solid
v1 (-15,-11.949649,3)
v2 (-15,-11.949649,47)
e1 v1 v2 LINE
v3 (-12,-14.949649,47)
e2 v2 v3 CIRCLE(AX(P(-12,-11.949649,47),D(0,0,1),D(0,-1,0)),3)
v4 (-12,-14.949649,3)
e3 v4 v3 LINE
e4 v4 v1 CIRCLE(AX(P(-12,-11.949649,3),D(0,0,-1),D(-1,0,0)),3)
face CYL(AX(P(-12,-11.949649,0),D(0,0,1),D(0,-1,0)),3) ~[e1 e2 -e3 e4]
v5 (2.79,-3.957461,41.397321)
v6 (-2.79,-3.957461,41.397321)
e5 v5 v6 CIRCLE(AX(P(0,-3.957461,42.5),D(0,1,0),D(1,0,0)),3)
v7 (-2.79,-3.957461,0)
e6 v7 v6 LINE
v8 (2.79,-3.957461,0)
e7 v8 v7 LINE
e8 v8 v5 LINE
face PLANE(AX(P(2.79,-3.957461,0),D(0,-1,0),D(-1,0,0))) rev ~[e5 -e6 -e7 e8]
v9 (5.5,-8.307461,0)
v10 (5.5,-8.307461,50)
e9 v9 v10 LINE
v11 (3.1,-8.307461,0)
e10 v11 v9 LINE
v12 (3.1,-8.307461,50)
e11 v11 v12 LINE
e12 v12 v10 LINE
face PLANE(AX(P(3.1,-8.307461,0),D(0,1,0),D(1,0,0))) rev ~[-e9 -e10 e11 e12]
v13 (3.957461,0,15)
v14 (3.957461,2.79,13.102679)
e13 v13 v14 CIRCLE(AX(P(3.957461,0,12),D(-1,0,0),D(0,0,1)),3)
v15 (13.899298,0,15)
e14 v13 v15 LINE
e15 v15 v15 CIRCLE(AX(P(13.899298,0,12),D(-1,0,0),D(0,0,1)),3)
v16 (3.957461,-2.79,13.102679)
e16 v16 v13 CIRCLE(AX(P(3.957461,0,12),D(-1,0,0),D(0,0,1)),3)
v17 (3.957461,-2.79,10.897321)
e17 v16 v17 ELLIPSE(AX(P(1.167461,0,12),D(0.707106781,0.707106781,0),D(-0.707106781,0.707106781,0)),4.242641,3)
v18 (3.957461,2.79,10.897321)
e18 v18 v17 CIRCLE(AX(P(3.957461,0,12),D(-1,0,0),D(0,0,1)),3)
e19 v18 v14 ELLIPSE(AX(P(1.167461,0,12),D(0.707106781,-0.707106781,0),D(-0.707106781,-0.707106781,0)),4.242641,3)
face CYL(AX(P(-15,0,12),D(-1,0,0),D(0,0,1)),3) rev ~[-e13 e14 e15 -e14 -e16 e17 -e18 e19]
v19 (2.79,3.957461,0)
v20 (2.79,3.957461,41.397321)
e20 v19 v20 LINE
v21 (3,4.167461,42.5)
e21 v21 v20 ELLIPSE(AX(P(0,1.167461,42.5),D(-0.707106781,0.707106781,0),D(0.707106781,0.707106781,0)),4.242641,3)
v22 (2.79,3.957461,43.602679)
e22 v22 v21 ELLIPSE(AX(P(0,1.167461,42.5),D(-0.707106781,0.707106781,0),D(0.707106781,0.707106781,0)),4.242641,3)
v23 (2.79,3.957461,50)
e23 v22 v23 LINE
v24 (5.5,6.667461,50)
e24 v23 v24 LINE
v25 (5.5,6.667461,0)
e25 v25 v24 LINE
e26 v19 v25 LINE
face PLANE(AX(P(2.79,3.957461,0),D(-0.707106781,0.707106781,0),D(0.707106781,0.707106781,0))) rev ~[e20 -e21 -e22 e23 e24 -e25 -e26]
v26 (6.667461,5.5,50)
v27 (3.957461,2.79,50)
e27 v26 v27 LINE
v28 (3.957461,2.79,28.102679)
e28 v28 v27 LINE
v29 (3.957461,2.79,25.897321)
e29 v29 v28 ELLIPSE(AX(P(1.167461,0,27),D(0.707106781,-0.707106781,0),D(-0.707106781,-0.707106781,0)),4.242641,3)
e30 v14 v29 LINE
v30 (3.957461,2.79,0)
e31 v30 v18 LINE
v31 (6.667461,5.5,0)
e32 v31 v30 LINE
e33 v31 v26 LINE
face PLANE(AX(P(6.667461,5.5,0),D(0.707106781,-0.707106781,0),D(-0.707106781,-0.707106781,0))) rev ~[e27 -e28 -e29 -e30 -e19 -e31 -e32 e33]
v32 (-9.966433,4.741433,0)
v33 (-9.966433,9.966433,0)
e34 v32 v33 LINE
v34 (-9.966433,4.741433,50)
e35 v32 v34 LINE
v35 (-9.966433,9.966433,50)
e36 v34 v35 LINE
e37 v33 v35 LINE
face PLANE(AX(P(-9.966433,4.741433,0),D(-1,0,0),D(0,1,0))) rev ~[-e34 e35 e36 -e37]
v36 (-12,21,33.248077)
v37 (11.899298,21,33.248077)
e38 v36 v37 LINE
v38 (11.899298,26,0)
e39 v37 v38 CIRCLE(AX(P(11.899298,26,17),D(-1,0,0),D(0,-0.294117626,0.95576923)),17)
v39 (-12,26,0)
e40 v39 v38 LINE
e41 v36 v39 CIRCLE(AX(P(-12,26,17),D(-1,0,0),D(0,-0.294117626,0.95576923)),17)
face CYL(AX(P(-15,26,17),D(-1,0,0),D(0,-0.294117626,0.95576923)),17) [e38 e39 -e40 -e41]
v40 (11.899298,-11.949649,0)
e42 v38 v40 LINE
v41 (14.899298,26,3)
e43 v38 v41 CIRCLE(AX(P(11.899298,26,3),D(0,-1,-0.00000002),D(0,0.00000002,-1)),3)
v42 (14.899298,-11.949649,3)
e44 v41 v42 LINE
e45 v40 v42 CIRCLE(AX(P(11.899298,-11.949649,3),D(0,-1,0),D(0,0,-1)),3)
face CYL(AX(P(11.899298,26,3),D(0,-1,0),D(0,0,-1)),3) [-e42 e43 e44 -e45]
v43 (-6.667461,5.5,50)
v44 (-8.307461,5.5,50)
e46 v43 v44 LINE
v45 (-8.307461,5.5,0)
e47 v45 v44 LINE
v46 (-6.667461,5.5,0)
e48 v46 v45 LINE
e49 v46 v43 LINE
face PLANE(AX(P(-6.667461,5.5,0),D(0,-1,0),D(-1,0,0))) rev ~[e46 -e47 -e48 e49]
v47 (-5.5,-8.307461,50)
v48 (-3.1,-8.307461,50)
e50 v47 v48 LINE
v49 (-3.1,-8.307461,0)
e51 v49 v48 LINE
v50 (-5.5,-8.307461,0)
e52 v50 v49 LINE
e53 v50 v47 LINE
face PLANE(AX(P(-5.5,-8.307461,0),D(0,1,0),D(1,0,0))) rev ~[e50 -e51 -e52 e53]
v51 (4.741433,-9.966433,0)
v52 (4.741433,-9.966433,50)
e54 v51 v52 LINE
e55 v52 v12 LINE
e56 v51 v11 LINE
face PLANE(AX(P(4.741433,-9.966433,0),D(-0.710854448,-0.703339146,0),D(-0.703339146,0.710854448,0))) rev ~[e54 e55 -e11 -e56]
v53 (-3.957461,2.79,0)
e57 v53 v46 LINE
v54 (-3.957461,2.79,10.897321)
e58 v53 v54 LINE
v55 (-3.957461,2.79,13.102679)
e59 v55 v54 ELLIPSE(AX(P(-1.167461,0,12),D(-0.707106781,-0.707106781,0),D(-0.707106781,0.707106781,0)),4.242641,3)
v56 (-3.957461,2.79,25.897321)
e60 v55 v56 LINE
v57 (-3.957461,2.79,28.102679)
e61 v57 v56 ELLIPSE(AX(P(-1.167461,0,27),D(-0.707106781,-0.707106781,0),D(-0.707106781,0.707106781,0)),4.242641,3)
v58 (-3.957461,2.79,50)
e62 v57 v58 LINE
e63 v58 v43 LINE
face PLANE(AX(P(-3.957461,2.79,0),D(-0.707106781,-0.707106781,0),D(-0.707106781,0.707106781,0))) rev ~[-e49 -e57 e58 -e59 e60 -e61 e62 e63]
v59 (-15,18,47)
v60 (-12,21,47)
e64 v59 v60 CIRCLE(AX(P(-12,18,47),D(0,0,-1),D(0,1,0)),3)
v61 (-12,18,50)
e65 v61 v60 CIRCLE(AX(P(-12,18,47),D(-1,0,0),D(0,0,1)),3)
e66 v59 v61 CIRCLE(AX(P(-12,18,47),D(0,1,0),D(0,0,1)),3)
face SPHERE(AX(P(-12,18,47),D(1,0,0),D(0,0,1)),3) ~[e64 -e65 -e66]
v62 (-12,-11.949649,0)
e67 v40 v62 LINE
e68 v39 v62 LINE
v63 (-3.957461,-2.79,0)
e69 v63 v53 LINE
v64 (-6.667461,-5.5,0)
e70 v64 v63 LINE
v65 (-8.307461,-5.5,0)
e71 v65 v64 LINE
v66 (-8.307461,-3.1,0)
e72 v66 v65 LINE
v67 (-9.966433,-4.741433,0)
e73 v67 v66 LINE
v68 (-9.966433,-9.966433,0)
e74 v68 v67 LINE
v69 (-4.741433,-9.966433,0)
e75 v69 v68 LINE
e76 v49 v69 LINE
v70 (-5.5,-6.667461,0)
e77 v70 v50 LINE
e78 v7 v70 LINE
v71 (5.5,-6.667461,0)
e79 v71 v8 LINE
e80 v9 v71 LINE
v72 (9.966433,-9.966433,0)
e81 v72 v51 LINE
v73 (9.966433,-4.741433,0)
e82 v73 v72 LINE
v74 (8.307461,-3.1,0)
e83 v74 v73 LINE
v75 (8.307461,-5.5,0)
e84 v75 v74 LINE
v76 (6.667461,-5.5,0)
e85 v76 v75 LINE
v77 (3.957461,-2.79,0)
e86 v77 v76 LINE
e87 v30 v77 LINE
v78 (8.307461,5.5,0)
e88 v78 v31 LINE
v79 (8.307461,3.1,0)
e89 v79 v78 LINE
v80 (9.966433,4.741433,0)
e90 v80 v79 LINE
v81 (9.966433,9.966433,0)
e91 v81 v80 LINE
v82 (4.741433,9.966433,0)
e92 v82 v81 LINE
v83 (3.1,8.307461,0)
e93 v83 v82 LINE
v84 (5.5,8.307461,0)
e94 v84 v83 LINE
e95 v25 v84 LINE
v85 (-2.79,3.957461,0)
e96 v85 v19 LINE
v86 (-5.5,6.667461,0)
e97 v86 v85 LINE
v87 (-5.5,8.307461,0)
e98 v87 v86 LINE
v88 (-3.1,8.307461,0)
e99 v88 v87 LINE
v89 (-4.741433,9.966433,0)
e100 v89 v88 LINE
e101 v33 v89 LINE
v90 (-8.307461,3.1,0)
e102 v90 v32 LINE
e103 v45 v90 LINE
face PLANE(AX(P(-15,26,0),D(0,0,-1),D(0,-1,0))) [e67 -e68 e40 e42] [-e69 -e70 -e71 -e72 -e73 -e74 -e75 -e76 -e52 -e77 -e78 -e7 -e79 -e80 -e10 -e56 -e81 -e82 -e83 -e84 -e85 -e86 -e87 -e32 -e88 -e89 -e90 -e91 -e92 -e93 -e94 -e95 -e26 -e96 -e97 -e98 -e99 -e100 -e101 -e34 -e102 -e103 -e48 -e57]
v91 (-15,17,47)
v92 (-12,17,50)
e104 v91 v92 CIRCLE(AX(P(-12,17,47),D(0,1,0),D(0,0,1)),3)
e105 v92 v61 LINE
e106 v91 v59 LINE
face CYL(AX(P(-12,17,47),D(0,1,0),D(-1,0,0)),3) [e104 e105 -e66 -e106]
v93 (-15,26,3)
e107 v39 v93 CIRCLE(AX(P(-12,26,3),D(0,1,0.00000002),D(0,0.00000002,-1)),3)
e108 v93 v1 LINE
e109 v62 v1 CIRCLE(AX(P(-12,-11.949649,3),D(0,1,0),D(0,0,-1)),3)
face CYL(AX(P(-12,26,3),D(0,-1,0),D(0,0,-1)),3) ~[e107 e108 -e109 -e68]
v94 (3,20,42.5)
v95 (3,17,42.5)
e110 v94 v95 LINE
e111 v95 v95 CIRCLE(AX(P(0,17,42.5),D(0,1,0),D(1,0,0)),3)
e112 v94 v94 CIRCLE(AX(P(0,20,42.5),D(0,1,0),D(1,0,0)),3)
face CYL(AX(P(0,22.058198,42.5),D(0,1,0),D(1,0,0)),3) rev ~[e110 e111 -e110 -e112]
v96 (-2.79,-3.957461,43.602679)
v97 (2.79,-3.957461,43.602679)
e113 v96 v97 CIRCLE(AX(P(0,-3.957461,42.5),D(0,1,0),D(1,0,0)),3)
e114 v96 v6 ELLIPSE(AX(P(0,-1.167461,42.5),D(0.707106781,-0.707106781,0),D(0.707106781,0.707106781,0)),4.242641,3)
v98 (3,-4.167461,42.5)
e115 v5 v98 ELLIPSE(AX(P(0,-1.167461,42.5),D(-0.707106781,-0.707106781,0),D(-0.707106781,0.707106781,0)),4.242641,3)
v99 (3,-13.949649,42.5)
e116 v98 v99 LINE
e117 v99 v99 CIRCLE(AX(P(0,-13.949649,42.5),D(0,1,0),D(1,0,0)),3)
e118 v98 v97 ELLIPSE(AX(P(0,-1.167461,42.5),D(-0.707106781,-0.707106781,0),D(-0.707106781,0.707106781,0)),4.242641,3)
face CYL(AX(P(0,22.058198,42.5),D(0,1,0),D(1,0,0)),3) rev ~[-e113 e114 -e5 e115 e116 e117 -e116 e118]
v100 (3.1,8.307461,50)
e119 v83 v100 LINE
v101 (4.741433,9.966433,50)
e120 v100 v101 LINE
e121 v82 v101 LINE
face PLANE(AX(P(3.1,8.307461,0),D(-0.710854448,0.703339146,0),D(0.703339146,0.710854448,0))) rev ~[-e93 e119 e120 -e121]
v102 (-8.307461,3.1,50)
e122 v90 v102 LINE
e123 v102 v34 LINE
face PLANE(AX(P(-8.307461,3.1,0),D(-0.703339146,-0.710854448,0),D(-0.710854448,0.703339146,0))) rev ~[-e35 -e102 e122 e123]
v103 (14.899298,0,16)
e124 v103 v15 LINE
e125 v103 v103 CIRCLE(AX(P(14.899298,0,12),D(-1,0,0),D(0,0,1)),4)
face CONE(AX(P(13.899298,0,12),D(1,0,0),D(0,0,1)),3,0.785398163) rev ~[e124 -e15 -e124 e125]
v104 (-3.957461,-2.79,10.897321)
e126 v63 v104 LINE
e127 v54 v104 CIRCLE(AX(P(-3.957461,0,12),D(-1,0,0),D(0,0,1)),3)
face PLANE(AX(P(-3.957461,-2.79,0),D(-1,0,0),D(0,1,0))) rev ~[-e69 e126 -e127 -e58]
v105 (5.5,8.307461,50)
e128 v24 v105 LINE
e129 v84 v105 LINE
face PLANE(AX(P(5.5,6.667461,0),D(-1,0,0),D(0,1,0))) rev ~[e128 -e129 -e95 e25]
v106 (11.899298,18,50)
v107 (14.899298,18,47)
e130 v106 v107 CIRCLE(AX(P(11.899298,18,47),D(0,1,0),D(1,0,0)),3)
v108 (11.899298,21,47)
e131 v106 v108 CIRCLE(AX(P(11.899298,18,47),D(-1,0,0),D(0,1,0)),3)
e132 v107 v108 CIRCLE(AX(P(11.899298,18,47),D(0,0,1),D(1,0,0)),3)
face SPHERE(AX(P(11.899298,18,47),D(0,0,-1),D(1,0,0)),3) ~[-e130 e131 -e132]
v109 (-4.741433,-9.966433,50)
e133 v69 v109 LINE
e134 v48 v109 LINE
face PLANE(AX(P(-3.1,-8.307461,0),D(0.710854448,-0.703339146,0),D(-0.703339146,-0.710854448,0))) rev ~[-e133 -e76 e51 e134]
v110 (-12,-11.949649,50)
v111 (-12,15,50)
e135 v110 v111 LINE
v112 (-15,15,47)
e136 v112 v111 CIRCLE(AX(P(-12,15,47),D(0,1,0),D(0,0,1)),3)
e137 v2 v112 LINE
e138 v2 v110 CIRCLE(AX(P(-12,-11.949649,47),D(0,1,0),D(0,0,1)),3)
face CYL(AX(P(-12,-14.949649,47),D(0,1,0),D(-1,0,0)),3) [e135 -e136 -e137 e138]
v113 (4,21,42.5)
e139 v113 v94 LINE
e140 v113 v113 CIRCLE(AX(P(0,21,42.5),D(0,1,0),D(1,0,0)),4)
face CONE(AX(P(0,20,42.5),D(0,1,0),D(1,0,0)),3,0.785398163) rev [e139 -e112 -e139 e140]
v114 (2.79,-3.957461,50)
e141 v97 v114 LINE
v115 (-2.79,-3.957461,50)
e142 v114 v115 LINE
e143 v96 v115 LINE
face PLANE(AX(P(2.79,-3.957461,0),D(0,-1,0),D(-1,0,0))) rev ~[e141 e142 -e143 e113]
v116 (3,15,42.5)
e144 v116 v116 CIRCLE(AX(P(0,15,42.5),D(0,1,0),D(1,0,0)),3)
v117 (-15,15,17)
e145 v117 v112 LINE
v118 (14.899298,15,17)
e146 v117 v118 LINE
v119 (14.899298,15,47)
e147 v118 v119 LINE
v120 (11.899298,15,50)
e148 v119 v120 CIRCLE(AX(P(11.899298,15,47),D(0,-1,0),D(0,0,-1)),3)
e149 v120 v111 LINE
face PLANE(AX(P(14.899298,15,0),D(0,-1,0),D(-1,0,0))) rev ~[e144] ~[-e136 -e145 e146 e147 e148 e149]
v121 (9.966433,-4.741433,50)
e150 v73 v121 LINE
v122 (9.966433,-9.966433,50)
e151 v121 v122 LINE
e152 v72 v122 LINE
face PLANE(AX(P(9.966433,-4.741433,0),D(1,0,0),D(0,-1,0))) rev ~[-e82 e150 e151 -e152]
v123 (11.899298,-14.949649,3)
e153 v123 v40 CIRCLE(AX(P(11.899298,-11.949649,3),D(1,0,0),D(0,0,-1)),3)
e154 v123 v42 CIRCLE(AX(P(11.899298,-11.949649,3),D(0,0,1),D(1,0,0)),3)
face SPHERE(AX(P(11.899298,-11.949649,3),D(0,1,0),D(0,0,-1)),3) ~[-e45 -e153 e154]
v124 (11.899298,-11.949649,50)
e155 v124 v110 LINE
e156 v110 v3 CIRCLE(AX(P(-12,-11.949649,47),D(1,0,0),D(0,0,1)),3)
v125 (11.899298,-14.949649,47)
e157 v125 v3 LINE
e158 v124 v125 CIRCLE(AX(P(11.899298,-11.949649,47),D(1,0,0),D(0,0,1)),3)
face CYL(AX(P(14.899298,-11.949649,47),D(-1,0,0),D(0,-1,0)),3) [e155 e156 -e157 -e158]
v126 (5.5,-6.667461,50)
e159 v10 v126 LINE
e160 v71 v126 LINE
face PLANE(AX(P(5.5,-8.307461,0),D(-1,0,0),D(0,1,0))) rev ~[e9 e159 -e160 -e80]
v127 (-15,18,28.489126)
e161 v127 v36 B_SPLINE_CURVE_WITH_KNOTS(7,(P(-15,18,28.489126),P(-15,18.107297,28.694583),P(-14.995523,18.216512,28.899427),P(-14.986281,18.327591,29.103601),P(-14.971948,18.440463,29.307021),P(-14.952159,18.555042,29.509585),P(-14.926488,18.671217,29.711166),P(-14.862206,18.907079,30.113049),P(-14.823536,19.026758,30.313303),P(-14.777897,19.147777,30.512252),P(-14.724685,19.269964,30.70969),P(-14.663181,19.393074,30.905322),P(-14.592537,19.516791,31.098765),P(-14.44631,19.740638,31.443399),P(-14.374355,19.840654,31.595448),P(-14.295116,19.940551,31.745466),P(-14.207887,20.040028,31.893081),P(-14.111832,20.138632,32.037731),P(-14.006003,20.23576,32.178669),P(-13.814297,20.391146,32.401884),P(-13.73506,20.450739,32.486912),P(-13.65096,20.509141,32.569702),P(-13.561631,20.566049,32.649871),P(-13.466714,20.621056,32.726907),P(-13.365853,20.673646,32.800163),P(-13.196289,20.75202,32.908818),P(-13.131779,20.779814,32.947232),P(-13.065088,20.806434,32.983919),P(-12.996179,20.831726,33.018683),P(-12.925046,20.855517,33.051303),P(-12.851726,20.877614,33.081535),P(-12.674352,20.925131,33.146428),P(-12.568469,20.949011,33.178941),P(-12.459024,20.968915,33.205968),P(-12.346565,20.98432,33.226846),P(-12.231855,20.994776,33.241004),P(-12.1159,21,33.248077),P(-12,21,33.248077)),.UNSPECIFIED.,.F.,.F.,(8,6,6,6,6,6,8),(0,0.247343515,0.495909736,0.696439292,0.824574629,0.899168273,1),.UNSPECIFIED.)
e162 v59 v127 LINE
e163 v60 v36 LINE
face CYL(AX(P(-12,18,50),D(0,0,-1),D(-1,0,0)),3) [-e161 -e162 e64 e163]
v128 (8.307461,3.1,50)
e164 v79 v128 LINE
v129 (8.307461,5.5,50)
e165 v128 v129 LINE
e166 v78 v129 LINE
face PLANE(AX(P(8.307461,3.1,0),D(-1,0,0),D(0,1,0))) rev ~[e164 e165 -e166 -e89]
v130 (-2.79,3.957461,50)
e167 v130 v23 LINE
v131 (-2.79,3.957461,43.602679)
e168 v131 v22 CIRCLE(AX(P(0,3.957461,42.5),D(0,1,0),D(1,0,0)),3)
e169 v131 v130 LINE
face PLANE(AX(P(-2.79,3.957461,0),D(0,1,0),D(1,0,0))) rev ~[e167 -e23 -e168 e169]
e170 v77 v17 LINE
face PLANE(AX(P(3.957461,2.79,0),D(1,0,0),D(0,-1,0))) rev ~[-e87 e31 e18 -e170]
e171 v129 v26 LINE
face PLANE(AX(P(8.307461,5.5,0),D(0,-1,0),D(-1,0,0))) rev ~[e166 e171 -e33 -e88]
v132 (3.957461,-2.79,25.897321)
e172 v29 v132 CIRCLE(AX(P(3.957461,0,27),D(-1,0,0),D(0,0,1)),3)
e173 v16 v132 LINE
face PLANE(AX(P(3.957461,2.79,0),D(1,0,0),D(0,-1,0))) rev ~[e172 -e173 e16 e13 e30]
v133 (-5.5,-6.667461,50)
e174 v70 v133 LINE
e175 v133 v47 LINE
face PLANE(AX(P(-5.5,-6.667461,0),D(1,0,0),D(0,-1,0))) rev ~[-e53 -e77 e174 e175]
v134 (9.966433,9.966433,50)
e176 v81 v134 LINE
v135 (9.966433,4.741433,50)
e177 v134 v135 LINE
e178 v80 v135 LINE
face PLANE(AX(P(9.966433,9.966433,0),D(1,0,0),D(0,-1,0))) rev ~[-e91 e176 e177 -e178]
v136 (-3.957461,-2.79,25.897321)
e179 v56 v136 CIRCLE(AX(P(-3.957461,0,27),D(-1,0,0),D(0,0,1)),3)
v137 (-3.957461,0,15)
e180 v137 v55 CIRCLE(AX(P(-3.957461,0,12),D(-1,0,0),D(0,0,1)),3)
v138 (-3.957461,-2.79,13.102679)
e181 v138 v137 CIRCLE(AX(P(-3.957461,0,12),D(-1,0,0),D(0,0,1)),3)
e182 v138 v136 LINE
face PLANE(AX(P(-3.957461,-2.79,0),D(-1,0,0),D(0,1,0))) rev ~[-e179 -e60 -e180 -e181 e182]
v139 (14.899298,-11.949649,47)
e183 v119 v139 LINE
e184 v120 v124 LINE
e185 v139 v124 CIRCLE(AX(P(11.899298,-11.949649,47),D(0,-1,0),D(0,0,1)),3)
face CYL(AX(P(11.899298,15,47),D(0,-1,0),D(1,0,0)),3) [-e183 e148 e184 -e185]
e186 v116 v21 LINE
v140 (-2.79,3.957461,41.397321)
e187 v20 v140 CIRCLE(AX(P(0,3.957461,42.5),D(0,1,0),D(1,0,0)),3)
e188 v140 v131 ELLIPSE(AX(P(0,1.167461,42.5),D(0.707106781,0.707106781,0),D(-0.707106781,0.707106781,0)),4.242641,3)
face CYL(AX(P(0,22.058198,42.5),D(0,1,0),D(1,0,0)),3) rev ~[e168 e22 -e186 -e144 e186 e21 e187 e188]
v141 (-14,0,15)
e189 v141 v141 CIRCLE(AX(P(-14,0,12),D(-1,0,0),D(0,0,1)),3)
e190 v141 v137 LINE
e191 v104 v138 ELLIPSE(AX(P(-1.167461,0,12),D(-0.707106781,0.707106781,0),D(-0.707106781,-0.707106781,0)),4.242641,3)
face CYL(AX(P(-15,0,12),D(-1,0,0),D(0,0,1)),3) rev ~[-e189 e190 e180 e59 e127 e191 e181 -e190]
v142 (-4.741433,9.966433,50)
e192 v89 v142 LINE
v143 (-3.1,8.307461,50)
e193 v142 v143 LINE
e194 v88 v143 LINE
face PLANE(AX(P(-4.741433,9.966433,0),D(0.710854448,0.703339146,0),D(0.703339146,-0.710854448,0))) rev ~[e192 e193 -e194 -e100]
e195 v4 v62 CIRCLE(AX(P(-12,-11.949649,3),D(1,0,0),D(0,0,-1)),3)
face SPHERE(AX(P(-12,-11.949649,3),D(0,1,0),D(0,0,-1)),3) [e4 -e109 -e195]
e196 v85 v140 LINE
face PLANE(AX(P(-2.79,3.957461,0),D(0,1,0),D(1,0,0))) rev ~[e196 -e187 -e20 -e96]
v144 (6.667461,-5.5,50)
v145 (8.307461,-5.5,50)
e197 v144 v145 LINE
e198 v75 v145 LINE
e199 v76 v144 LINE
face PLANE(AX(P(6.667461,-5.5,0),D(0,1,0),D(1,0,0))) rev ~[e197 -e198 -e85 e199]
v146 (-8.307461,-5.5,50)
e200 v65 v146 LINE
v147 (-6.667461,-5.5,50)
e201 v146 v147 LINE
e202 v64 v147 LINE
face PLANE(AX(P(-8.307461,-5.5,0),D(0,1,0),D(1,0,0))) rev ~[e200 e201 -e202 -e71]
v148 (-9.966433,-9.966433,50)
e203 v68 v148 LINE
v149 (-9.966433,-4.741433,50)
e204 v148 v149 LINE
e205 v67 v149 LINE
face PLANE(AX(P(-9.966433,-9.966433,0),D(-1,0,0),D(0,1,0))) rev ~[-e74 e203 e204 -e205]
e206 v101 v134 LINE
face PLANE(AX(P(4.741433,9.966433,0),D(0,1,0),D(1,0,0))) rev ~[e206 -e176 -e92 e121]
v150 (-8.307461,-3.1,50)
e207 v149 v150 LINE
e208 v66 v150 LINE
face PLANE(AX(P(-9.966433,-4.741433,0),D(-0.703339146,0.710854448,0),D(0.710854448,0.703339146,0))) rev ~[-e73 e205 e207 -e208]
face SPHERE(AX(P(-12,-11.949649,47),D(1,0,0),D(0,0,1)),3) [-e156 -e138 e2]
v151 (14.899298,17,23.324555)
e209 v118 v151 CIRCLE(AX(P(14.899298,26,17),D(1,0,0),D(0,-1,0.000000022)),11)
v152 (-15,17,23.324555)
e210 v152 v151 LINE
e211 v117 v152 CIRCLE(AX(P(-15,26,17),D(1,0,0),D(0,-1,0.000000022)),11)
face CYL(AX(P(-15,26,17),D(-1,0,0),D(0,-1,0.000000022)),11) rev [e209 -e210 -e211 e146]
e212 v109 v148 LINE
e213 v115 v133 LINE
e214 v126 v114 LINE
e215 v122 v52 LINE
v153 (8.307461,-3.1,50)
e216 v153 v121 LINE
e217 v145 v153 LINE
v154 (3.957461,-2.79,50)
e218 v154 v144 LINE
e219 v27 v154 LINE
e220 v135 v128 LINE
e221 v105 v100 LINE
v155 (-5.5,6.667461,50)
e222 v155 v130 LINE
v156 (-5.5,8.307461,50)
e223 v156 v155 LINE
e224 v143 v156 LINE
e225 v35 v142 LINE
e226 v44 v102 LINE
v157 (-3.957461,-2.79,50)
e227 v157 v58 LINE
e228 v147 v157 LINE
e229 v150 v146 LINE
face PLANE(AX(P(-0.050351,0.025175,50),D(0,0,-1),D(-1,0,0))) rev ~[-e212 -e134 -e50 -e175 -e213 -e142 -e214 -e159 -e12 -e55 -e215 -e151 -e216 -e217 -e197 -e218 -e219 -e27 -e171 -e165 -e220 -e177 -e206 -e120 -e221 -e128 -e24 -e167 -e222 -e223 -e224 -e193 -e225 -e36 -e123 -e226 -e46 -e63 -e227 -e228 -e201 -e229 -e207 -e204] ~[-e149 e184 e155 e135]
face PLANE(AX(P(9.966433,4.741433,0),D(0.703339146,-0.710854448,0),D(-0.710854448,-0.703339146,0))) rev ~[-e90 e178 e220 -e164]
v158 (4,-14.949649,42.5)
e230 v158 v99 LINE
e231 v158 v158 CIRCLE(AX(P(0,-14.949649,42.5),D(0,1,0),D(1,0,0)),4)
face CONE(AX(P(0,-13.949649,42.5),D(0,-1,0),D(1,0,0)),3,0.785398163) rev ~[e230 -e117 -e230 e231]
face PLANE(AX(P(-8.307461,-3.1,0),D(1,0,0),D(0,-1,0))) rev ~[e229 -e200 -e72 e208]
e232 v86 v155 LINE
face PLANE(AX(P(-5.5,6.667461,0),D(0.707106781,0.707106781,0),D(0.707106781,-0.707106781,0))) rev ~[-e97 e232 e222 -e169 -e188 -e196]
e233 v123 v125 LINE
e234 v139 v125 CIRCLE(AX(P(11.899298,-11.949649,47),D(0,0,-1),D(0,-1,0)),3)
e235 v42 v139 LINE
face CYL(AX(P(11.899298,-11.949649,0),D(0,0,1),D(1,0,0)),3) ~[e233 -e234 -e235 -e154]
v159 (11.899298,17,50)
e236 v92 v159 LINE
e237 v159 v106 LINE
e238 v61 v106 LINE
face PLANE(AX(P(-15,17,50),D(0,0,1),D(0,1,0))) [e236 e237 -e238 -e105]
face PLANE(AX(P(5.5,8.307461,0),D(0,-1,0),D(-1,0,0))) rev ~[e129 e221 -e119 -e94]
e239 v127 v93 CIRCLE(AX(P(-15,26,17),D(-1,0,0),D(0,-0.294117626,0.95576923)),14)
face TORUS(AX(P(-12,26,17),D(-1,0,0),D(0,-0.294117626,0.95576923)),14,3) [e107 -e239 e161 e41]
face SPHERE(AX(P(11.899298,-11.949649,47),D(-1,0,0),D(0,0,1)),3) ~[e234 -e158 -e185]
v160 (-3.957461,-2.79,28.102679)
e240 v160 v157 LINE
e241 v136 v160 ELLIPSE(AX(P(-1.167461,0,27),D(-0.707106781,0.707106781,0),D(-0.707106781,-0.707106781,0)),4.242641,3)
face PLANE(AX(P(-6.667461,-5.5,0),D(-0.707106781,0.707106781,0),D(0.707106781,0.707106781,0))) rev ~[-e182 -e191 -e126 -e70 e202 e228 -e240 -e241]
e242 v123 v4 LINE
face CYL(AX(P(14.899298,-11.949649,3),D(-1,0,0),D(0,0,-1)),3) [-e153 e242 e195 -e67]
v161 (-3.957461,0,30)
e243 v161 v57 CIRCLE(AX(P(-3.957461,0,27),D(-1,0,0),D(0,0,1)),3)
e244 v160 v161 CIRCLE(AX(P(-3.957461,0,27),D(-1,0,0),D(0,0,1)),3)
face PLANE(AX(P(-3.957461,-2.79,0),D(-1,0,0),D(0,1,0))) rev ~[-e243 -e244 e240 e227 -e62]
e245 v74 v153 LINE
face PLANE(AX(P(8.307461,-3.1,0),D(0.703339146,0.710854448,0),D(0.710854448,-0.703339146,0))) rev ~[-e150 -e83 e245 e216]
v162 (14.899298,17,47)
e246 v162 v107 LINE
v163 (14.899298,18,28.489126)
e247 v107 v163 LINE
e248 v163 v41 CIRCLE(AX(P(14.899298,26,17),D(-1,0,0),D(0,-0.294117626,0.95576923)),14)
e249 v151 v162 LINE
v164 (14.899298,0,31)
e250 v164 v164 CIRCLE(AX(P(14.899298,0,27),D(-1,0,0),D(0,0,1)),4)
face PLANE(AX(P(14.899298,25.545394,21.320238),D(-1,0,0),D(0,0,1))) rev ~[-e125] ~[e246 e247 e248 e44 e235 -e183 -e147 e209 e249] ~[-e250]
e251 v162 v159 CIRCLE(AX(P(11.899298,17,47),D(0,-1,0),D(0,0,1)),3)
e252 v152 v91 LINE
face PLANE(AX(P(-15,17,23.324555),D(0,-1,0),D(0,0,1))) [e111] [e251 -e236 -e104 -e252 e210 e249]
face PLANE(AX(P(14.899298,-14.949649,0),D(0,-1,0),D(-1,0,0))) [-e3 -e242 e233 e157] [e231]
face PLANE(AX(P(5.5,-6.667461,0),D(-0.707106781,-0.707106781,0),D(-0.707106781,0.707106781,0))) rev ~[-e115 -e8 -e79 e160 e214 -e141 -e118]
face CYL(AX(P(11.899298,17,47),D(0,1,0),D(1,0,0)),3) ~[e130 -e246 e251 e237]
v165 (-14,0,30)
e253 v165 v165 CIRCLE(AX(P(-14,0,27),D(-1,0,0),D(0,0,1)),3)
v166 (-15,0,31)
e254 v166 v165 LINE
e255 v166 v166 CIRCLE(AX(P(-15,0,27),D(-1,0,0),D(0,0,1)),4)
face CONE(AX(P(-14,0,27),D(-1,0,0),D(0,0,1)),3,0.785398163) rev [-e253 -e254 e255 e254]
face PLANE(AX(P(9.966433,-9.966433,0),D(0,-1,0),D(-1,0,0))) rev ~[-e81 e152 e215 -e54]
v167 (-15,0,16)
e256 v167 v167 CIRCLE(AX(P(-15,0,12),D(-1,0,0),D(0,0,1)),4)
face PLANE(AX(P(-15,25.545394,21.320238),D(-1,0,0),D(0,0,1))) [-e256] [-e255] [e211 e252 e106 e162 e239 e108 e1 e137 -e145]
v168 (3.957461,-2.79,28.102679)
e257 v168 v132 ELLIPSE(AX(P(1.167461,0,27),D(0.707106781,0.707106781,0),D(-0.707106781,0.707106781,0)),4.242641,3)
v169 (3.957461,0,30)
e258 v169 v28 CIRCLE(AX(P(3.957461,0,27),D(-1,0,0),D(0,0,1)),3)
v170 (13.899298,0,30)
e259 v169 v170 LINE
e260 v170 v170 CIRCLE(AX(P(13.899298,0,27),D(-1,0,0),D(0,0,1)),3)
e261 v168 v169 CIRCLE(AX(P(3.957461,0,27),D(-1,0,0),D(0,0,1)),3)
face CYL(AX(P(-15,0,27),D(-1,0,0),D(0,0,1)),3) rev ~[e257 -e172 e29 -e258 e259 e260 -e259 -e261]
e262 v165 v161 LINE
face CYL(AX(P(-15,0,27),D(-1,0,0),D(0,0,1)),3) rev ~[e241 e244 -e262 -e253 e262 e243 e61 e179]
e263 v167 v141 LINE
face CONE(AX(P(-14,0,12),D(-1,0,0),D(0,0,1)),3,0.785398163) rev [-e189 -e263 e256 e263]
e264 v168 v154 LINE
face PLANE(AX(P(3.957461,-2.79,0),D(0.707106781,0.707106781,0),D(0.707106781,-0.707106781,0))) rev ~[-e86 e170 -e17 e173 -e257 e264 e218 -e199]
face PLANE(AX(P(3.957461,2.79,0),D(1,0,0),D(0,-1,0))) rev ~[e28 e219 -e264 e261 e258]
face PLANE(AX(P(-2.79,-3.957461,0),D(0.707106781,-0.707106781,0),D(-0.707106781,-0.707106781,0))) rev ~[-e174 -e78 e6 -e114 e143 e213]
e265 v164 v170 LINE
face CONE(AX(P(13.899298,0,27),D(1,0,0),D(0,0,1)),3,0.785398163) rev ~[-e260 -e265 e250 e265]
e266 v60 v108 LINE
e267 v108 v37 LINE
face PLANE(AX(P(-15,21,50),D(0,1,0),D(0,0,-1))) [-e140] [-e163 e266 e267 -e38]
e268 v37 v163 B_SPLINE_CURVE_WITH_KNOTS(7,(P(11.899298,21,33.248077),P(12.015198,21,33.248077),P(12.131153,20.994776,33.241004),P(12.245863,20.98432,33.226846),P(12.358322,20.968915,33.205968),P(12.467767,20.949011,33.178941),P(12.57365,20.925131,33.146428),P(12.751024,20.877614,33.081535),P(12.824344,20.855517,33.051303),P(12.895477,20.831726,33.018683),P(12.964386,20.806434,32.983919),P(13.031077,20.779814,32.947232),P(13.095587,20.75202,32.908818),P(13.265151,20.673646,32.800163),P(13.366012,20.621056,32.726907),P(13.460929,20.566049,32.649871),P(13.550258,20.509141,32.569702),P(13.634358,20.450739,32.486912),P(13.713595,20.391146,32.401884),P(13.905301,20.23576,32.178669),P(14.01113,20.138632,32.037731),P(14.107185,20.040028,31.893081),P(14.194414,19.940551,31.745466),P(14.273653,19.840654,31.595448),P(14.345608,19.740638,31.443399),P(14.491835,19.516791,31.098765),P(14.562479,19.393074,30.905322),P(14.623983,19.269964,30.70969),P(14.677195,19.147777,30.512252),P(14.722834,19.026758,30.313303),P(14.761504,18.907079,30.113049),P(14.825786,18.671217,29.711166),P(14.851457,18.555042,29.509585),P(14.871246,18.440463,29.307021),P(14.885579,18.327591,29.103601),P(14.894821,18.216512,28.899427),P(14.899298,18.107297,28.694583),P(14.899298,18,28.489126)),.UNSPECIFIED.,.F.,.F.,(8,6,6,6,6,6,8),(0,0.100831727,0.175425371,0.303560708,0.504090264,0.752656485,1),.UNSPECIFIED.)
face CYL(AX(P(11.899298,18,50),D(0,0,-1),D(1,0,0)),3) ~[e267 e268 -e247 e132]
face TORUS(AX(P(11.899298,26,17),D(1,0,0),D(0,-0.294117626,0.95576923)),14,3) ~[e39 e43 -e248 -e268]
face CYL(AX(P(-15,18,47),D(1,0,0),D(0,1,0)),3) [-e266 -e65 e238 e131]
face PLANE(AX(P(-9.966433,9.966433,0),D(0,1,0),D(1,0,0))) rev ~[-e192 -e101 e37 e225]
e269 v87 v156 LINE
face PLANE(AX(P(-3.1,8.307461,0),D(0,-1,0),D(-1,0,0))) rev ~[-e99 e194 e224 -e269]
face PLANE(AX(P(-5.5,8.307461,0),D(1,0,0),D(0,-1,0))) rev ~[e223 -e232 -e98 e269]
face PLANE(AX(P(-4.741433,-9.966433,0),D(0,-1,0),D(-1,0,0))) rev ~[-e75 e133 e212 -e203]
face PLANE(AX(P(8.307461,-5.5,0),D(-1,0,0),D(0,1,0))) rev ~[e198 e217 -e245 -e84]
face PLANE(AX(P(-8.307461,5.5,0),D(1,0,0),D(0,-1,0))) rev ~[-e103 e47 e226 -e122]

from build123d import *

# Parameters (mm, degrees)
BOSS_EXTRUDE1_DEPTH = 50
BOSS_EXTRUDE3_DEPTH = 29.899298
SKETCH3_R           = 3
CUT_EXTRUDE1_DEPTH  = 30.899298
SKETCH4_R           = 3
CUT_EXTRUDE2_DEPTH  = 38.007847
FILLET1_R           = 3
CHAMFER1_SIZE       = 1


with BuildPart() as part:
    # Sketch1 → Boss-Extrude1 (new body)
    with BuildSketch(Plane.XY):
        Polygon((0, 15), (14.899298, 15), (14.899298, -14.949649), (-15, -14.949649), (-15, 15), align=None)
        Polygon((-9.966433, 9.966433), (-4.741433, 9.966433), (-3.1, 8.307461), (-5.5, 8.307461), (-5.5, 6.667461), (-2.79, 3.957461), (2.79, 3.957461), (5.5, 6.667461), (5.5, 8.307461), (3.1, 8.307461), (4.741433, 9.966433), (9.966433, 9.966433), (9.966433, 4.741433), (8.307461, 3.1), (8.307461, 5.5), (6.667461, 5.5), (3.957461, 2.79), (3.957461, -2.79), (6.667461, -5.5), (8.307461, -5.5), (8.307461, -3.1), (9.966433, -4.741433), (9.966433, -9.966433), (4.741433, -9.966433), (3.1, -8.307461), (5.5, -8.307461), (5.5, -6.667461), (2.79, -3.957461), (-2.79, -3.957461), (-5.5, -6.667461), (-5.5, -8.307461), (-3.1, -8.307461), (-4.741433, -9.966433), (-9.966433, -9.966433), (-9.966433, -4.741433), (-8.307461, -3.1), (-8.307461, -5.5), (-6.667461, -5.5), (-3.957461, -2.79), (-3.957461, 2.79), (-6.667461, 5.5), (-8.307461, 5.5), (-8.307461, 3.1), (-9.966433, 4.741433), align=None, mode=Mode.SUBTRACT)
    extrude(amount=BOSS_EXTRUDE1_DEPTH)

    # Sketch5 → Boss-Extrude3 (add, through all)
    with BuildSketch(Plane.ZY.offset(15)):
        with BuildLine():
            Line((0, 26), (0, 15))
            Line((0, 15), (17, 15))
            ThreePointArc((17, 15), (13.683375, 36.488088), (23.324555, 17))
            Line((23.324555, 17), (27.804488, 17))
            Line((27.804488, 17), (50, 17))
            Line((50, 17), (50, 21))
            Line((50, 21), (33.248077, 21))
            ThreePointArc((33.248077, 21), (19.528111, 42.810968), (0, 26))
        make_face()
    extrude(amount=-BOSS_EXTRUDE3_DEPTH)

    # Sketch3 → Cut-Extrude1 (cut, through all)
    with BuildSketch(Plane.ZY.offset(15)):
        with Locations((12, 0)):
            Circle(SKETCH3_R)
        with Locations((27, 0)):
            Circle(SKETCH3_R)
    extrude(amount=-CUT_EXTRUDE1_DEPTH, mode=Mode.SUBTRACT)

    # Sketch4 → Cut-Extrude2 (cut, through all)
    with BuildSketch(Plane(origin=(0, 22.058198, 0), x_dir=(1, 0, 0), z_dir=(0, 1, 0))):
        with Locations((0, -42.5)):
            Circle(SKETCH4_R)
    extrude(amount=-CUT_EXTRUDE2_DEPTH, mode=Mode.SUBTRACT)

    # Fillet1
    fillet1_edges = [part.edges().sort_by_distance(p)[0] for p in [
        (-0.050351, -14.949649, 50),
        (14.899298, 0.025175, 50),
        (14.899298, 42.810968, 19.528111),
        (14.899298, 21, 41.624038),
        (14.899298, 19, 50),
        (-0.050351, 21, 50),
        (-15, 19, 50),
        (-15, 21, 41.624038),
        (-15, 42.810968, 19.528111),
        (14.899298, 0.025175, 0),
        (-0.050351, -14.949649, 0),
        (-15, 5.525175, 0),
        (-15, 0.025175, 50),
        (14.899298, -14.949649, 25),
        (-15, -14.949649, 25),
    ]]
    fillet(fillet1_edges, radius=FILLET1_R)

    # Chamfer1
    chamfer1_edges = [part.edges().sort_by_distance(p)[0] for p in [
        (14.899298, 0, 9),
        (-15, 0, 9),
        (14.899298, 0, 24),
        (-15, 0, 24),
        (-3, -14.949649, 42.5),
        (-3, 21, 42.5),
    ]]
    chamfer(chamfer1_edges, length=CHAMFER1_SIZE)


solid = part.part
